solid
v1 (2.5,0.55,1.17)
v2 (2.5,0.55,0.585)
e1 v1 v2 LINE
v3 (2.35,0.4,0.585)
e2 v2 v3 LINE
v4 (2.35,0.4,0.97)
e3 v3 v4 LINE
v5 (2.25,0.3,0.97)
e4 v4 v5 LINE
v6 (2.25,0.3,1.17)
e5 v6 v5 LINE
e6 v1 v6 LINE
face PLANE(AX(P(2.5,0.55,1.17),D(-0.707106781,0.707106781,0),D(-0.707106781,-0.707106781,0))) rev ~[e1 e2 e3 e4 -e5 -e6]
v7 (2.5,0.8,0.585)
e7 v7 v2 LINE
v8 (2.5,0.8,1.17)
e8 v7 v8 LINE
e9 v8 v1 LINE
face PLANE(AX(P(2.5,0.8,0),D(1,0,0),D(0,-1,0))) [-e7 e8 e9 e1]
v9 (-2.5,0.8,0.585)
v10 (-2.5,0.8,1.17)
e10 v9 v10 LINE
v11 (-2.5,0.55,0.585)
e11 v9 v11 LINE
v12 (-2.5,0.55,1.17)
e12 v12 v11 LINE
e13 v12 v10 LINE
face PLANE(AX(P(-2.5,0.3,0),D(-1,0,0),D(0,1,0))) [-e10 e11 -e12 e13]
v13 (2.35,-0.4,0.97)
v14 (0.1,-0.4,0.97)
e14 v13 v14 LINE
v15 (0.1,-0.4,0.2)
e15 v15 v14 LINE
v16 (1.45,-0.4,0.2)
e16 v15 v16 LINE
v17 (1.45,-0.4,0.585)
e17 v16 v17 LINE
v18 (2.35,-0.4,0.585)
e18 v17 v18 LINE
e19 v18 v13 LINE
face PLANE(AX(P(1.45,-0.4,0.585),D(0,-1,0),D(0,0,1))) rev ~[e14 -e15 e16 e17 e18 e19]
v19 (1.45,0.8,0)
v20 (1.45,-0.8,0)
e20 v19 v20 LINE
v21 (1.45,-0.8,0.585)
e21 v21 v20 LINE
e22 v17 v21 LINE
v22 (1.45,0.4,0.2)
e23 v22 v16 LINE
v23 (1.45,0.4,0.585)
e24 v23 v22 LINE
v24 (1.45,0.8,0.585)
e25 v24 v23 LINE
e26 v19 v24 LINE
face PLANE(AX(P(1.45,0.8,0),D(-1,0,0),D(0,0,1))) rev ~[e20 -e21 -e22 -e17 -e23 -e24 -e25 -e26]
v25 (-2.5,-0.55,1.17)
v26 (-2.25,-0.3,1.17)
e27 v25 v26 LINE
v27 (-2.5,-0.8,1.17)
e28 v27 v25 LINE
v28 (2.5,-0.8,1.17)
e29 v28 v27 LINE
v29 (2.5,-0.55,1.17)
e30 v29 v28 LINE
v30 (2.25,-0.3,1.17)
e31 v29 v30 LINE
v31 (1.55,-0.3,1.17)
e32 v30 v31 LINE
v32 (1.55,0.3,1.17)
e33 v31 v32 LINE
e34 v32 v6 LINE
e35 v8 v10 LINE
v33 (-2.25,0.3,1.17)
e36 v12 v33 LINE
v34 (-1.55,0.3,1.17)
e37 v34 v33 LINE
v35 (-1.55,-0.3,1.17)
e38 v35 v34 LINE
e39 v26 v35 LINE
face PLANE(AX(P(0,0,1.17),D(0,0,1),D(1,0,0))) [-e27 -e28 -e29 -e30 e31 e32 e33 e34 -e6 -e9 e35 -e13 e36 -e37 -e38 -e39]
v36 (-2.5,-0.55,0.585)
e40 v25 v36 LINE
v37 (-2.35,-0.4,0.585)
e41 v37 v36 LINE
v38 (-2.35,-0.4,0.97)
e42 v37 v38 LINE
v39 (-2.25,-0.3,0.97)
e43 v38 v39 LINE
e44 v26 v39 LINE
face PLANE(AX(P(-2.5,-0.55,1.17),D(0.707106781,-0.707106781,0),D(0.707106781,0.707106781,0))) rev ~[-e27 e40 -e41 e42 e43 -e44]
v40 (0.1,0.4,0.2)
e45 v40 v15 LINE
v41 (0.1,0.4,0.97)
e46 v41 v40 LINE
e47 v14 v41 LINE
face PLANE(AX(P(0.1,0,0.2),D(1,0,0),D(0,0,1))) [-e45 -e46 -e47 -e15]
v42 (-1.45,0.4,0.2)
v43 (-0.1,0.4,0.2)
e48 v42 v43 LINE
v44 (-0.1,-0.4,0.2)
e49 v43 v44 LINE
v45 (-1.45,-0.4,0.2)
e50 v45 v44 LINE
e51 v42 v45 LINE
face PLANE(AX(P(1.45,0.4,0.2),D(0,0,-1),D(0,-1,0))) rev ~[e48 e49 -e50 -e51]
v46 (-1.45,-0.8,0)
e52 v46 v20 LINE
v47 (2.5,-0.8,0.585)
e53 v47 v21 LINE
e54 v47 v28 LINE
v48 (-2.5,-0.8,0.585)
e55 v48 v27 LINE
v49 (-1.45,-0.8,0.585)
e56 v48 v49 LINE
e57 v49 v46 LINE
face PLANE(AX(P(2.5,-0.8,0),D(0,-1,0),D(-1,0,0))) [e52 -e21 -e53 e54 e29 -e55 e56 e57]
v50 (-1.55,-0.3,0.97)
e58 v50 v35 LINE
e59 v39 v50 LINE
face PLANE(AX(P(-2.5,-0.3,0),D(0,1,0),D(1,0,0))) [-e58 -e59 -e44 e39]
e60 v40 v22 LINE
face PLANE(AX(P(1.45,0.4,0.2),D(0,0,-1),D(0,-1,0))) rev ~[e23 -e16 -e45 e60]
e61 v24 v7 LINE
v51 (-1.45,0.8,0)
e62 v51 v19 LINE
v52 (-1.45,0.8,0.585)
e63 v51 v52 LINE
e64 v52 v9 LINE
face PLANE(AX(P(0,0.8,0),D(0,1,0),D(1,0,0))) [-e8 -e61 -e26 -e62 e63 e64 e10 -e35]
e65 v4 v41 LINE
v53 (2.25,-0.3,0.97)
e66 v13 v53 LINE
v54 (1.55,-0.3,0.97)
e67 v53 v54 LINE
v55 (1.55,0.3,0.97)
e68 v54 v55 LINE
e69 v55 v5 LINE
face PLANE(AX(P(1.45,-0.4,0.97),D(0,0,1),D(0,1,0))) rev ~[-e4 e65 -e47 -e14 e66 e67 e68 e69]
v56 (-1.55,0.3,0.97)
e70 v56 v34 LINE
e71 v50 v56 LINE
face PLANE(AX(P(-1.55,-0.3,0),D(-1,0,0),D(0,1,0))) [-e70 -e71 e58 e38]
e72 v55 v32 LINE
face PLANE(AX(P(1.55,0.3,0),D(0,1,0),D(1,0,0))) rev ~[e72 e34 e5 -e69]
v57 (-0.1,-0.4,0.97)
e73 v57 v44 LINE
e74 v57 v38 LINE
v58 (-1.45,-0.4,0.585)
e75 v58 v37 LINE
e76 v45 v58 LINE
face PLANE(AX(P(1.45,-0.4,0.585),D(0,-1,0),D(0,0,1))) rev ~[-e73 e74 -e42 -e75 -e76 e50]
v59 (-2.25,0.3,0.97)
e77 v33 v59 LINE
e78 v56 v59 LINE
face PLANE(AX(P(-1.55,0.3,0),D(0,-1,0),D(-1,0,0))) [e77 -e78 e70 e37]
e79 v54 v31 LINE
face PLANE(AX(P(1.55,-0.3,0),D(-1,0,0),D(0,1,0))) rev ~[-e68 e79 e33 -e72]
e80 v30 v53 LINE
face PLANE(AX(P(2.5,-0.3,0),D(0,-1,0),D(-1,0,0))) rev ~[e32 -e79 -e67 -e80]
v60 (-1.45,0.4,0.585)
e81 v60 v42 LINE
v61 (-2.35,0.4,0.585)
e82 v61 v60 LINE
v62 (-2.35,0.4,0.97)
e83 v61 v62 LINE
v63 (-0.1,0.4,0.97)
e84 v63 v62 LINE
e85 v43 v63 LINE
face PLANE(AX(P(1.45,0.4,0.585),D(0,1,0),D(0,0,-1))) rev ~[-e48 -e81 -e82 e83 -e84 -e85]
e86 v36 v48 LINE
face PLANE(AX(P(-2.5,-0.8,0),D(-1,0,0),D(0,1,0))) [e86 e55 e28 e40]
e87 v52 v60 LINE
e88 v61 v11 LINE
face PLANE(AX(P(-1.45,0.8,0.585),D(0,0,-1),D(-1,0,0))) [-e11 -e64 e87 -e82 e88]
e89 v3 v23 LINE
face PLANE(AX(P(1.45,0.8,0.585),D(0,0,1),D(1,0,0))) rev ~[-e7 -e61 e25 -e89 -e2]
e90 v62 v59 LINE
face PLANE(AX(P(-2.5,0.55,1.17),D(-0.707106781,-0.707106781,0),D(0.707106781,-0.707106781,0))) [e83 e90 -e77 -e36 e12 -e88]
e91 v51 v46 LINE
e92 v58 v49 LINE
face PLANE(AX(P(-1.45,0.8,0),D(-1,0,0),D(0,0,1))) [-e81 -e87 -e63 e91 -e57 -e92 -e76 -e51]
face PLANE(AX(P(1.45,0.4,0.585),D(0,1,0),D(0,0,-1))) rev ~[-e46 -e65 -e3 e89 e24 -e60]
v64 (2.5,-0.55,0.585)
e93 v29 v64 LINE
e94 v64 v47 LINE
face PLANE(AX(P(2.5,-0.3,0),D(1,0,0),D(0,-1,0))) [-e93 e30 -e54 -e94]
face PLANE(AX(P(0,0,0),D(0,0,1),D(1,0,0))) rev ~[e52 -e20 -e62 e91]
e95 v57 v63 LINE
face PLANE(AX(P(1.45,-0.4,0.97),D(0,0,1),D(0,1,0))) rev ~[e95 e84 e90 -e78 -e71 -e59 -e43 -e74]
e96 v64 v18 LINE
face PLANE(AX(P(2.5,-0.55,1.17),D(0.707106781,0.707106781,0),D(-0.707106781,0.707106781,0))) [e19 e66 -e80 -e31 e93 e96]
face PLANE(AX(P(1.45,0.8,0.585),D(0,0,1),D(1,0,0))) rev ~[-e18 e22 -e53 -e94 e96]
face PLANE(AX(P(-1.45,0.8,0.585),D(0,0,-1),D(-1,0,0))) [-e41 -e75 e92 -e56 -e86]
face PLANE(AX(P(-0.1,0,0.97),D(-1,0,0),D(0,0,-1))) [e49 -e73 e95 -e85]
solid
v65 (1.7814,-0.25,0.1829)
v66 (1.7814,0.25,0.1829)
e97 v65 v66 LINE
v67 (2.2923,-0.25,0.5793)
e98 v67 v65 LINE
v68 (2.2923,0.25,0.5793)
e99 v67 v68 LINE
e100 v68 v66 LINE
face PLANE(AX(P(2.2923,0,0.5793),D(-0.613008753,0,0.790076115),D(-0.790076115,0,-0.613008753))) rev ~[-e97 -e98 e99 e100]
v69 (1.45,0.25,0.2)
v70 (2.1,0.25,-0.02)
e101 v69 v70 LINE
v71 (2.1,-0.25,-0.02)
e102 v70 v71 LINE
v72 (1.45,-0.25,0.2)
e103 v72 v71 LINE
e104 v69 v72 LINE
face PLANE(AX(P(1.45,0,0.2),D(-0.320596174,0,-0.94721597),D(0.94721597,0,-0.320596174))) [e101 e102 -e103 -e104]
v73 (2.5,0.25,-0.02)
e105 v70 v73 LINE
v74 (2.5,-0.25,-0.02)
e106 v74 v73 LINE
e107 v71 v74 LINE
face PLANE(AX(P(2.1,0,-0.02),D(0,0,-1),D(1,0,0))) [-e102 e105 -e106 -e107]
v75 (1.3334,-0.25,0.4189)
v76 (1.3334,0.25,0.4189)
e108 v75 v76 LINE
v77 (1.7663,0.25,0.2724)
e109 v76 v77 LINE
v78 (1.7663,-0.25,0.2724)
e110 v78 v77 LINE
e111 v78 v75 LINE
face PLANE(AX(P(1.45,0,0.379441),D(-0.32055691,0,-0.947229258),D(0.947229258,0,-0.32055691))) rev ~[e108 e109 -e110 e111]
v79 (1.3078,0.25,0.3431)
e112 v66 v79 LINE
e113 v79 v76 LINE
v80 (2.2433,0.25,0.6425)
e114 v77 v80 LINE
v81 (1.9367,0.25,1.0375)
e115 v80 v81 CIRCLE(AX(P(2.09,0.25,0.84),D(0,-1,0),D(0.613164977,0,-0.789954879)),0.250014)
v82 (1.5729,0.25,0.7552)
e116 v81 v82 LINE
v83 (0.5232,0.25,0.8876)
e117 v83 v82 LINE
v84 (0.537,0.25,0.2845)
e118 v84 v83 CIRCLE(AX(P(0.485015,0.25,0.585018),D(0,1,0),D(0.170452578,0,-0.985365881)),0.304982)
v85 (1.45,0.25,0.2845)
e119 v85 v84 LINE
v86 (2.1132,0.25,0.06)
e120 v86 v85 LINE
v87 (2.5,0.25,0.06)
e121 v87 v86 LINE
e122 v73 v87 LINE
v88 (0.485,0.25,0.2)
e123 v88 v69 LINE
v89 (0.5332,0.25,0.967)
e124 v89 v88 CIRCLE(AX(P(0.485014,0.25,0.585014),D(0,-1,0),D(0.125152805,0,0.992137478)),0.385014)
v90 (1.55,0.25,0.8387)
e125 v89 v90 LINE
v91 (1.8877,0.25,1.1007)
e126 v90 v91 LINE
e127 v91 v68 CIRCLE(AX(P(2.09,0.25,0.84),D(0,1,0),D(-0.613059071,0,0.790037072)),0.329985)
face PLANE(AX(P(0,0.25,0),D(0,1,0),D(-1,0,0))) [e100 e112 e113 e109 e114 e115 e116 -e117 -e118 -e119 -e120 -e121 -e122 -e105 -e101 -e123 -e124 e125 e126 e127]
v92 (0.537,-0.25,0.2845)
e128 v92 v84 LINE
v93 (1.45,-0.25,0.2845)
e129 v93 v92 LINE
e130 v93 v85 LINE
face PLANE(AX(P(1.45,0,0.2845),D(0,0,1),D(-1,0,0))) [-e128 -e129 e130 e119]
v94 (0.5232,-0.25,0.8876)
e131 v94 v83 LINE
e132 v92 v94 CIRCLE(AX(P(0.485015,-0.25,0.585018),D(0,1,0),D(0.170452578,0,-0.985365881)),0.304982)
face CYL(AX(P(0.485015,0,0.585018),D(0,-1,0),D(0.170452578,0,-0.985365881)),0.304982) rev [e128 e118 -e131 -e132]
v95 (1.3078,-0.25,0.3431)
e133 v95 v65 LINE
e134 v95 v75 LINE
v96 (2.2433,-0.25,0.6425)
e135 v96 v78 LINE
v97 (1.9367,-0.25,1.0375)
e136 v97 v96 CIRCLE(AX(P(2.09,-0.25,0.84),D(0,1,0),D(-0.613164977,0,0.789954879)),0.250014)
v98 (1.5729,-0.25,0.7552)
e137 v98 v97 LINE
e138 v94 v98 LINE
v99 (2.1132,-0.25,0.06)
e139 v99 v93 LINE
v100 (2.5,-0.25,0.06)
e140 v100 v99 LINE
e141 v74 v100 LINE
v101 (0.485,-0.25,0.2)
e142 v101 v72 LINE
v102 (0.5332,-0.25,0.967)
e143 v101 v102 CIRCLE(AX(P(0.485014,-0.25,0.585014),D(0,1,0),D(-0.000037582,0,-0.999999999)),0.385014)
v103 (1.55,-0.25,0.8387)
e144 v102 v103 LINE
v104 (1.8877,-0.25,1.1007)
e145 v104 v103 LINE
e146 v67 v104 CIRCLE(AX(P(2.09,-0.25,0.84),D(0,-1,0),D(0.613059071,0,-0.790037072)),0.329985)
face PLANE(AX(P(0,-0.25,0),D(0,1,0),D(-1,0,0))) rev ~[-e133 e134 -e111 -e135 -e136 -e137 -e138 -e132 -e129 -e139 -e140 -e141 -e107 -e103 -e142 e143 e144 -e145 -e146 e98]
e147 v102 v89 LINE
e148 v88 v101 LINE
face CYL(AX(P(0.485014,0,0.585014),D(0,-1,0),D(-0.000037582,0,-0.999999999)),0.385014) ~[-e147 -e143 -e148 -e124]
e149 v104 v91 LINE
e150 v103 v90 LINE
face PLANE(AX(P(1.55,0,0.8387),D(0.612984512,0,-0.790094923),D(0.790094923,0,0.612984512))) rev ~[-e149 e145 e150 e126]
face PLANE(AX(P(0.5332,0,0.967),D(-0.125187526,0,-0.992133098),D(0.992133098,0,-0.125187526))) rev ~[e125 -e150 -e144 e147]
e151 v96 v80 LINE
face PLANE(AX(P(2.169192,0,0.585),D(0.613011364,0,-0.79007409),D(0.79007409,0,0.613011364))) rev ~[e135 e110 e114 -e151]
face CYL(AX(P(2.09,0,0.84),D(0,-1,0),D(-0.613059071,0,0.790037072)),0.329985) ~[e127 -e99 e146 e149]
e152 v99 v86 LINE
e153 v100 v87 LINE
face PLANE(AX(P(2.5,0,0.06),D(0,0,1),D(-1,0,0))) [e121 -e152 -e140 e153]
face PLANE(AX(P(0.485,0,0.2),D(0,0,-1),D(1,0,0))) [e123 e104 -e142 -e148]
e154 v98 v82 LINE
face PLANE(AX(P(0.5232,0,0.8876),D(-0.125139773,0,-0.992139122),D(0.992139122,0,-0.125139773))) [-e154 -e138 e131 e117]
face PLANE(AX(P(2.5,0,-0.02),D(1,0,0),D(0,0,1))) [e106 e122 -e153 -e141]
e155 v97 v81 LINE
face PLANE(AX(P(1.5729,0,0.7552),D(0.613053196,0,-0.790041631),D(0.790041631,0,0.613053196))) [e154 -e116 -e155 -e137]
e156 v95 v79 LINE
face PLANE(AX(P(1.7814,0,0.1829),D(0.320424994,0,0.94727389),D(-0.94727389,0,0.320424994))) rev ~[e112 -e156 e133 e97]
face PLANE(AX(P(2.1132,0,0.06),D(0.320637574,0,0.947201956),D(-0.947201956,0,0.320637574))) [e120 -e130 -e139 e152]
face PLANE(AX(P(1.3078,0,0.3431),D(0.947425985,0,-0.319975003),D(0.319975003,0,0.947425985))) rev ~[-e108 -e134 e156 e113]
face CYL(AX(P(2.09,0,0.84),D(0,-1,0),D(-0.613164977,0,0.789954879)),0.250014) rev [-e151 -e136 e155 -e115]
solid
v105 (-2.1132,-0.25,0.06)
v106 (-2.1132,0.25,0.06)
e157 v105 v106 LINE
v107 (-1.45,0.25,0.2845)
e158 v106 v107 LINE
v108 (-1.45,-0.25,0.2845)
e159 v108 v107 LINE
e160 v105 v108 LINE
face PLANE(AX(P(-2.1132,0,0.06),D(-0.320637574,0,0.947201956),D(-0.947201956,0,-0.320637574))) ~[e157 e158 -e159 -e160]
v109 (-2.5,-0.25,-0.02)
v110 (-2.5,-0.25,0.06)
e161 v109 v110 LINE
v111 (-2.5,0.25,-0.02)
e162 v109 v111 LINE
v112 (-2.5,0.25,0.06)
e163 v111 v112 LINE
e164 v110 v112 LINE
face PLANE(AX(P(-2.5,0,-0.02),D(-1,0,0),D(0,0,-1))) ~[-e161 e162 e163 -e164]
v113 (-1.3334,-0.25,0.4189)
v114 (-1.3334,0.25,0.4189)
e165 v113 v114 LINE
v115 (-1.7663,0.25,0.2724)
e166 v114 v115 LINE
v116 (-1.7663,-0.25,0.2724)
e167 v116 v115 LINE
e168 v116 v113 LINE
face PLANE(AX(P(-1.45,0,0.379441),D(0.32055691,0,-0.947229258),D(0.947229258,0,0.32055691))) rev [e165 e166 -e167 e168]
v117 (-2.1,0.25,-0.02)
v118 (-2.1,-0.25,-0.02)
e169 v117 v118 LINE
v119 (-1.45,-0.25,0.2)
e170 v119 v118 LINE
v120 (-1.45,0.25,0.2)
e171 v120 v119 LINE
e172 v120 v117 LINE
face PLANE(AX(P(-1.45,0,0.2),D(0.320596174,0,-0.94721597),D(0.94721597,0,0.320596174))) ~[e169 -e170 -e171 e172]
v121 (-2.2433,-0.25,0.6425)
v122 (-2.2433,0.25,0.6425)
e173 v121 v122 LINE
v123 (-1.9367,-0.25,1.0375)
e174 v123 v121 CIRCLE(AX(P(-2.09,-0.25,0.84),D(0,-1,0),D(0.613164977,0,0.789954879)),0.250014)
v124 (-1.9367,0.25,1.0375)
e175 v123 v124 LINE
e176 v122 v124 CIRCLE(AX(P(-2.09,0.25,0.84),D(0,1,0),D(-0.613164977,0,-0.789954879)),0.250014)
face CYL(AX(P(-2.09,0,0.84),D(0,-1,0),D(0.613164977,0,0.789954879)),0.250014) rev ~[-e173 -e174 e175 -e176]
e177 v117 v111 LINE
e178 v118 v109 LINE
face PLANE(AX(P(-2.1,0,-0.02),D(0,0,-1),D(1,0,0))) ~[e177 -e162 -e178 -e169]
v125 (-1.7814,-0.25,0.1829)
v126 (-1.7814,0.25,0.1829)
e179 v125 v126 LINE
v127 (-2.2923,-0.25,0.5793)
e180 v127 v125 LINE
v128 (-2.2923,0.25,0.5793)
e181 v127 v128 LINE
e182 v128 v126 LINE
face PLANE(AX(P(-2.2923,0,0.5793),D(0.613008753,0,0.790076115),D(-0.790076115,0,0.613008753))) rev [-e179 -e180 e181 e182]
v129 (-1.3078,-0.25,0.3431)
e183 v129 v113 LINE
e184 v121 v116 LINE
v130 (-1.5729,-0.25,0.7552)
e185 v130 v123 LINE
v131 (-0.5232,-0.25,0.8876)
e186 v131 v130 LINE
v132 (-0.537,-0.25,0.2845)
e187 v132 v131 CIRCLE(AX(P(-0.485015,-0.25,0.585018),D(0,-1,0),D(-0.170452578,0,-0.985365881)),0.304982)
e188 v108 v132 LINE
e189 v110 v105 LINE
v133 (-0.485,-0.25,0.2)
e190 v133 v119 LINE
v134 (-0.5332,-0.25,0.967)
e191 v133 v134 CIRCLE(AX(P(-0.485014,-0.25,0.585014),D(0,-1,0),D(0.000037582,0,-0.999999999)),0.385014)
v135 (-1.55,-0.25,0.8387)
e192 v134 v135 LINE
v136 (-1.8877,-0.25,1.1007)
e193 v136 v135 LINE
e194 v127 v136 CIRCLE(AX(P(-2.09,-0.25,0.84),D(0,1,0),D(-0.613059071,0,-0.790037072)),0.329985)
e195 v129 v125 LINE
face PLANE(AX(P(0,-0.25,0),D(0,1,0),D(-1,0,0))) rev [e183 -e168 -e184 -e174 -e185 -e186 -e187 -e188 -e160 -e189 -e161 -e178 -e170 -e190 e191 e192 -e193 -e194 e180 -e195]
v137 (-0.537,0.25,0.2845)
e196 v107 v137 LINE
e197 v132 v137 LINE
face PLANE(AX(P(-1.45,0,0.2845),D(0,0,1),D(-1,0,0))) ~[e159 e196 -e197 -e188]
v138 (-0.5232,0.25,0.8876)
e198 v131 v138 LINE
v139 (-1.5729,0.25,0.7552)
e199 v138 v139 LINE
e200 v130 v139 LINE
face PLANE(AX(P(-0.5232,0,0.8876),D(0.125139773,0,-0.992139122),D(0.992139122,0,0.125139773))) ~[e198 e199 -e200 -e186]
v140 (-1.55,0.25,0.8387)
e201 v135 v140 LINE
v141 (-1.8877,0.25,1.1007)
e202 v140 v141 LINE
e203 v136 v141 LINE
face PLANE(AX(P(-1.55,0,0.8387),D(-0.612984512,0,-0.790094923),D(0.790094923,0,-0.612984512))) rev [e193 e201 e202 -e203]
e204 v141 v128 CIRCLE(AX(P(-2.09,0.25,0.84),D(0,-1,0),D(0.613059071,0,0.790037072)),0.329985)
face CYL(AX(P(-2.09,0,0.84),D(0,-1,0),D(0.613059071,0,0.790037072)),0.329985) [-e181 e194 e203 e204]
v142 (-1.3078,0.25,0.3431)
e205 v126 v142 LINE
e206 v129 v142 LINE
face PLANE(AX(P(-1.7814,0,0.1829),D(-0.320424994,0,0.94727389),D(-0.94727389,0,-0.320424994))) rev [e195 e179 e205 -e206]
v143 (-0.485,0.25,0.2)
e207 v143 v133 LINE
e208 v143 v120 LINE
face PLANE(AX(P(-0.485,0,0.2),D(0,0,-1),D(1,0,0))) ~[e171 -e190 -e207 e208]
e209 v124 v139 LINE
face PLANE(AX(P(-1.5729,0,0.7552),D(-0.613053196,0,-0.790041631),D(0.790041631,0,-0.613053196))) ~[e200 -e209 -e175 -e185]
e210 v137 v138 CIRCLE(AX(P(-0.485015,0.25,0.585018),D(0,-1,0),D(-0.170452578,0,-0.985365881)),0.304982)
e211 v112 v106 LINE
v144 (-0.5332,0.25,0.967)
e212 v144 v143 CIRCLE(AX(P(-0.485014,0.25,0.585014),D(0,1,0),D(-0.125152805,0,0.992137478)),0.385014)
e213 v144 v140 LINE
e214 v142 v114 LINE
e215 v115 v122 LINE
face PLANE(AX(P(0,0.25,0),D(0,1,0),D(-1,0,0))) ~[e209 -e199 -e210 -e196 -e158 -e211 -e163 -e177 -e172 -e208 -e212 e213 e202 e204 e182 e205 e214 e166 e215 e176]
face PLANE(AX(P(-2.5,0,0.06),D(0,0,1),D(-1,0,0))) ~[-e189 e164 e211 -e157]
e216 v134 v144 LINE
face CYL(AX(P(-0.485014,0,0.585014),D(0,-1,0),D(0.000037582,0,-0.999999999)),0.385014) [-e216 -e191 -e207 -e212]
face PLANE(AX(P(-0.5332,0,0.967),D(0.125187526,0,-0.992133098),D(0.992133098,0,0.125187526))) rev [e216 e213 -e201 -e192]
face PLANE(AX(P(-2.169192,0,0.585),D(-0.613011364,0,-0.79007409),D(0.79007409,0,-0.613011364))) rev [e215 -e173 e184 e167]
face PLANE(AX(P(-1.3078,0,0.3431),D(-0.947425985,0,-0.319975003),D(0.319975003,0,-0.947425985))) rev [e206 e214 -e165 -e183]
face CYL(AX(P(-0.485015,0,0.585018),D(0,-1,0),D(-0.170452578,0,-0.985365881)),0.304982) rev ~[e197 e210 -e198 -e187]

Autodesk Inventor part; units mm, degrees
ref_plane "YZ Plane" through (0, 0, 0) normal (1, 0, 0) x (0, 1, 0)
ref_plane "XZ Plane" through (0, 0, 0) normal (0, 1, 0) x (-1, 0, 0)
ref_plane "XY Plane" through (0, 0, 0) normal (0, 0, 1) x (1, 0, 0)
sketch "Sketch1" plane through (0, 0, 0) normal (0, 0, 1) x (1, 0, 0)
  line L0 (2.5, -0.8) -> (-2.5, -0.8)
  line L1 (-2.5, -0.8) -> (-2.5, 0.8)
  line L2 (-2.5, 0.8) -> (2.5, 0.8)
  line L3 (2.5, 0.8) -> (2.5, -0.8)
  line L4 (2.5, -0.8) -> (-2.5, 0.8) construction
  line L5 (-2.5, -0.8) -> (2.5, 0.8) construction
  line L6 (-2.5, -0.3) -> (-1.55, -0.3)
  line L7 (-1.55, -0.3) -> (-1.55, 0.3)
  line L8 (-1.55, 0.3) -> (-2.5, 0.3)
  line L9 (-2.5, 0.3) -> (-2.5, -0.3)
  line L10 (0, -0.8) -> (0, 0.8)
  line L11 (2.5, -0.3) -> (1.55, -0.3)
  line L12 (1.55, -0.3) -> (1.55, 0.3)
  line L13 (1.55, 0.3) -> (2.5, 0.3)
  line L14 (2.5, 0.3) -> (2.5, -0.3)
  point P0 (0, 0)
  point P1 (-2.5, 0)
  point P2 (2.5, 0)
  dimension "d0" = 5
  dimension "d1" = 1.6
  dimension "d2" = 0.95
  dimension "d3" = 0.6
extrude "Extrusion1" add sketch "Sketch1" along normal blind 1.17 contours L0 L10 L2 L3 L13 L12 L11 | L0 L1 L6 L7 L8 L2 L10
sketch "Sketch2" plane through (-2.5, 0.8, 0) normal (0, 1, 0) x (1, 0, 0)
  line L0 (5, 0) -> (0, 0) projected
  line L1 (0, 0) -> (0, -1.17) projected
  line L2 (5, -1.17) -> (0, -1.17) projected
  line L3 (5, 0) -> (5, -1.17) projected
  line L4 (5, 0) -> (3.95, 0)
  line L5 (3.95, 0) -> (3.95, -0.585)
  line L6 (3.95, -0.585) -> (5, -0.585)
  line L7 (5, -0.585) -> (5, 0)
  line L8 (2.5, 0) -> (2.5, -1.17)
  line L9 (0, 0) -> (1.05, 0)
  line L10 (1.05, 0) -> (1.05, -0.585)
  line L11 (1.05, -0.585) -> (0, -0.585)
  line L12 (0, -0.585) -> (0, 0)
  dimension "d6" = 0.585
  dimension "d7" = 2.9
extrude "Extrusion2" cut sketch "Sketch2" against normal through all contours L3 L6 L5 L0 | L10 L11 L1 L0
sketch "Sketch3" plane through (1.45, 0.8, 0.585) normal (1, 0, 0) x (0, 0, -1)
  line L0 (0.585, -1.6) -> (0, -1.6) projected
  line L1 (0.585, 0) -> (0.585, -1.6) projected
  line L2 (0, 0) -> (0.585, 0) projected
  line L3 (0, 0) -> (0, -1.6) projected
  line L4 (0, -1.6) -> (0, -1.1) projected
  line L5 (0, -1.1) -> (-0.585, -1.1) projected
  line L6 (-0.585, -1.6) -> (-0.585, -1.1) projected
  line L7 (0, -1.6) -> (-0.585, -1.6) projected
  line L8 (0, -1.1) -> (0, -0.5) projected
  line L9 (0, -0.5) -> (-0.585, -0.5) projected
  line L10 (-0.585, -1.1) -> (-0.585, -0.5) projected
  line L11 (0, -1.1) -> (-0.585, -1.1) projected
  line L12 (0, -0.5) -> (0, 0) projected
  line L13 (0, 0) -> (-0.585, 0) projected
  line L14 (-0.585, -0.5) -> (-0.585, 0) projected
  line L15 (-0.585, -0.5) -> (0, -0.5) projected
  line L16 (0.385, -1.2) -> (-0.385, -1.2)
  line L17 (-0.385, -1.2) -> (-0.385, -0.4)
  line L18 (-0.385, -0.4) -> (0.385, -0.4)
  line L19 (0.385, -0.4) -> (0.385, -1.2)
  point P0 (0.585, -0.8)
  dimension "d10" = 0.4
  dimension "d11" = 0.4
  dimension "d12" = 0.2
  dimension "d13" = 0.2
extrude "Extrusion3" cut sketch "Sketch3" along normal through all both and the other way through all contours L16 L17 L5 L3 | L3 L18 L19 L16 | L5 L17 L9 L3 | L3 L9 L17 L18
sketch "Sketch4" plane through (0, 0, 0) normal (0, 1, 0) x (-1, 0, 0)
  line L0 (2.5, 0.97) -> (2.5, 0.585) projected
  line L1 (-2.5, 0.97) -> (2.5, 0.97) projected
  line L2 (-2.5, 0.585) -> (-2.5, 0.97) projected
  line L3 (-1.45, 0.585) -> (-2.5, 0.585) projected
  line L4 (-1.45, 0.2) -> (-1.45, 0.585) projected
  line L5 (1.45, 0.2) -> (-1.45, 0.2) projected
  line L6 (1.45, 0.585) -> (1.45, 0.2) projected
  line L7 (2.5, 0.585) -> (1.45, 0.585) projected
  line L8 (-0.1, 0.97) -> (0.1, 0.97)
  line L9 (0.1, 0.97) -> (0.1, 0.2)
  line L10 (0.1, 0.2) -> (-0.1, 0.2)
  line L11 (-0.1, 0.2) -> (-0.1, 0.97)
  point P0 (0, 0)
  point P1 (0, 0.97)
  dimension "d16" = 0.2
extrude "Extrusion4" add sketch "Sketch4" along normal mid plane 1.6 contours L9 L5 L11 L1
sketch "Sketch5" plane through (0, 0, 0) normal (0, 1, 0) x (-1, 0, 0)
  line L0 (-0.1, 0.2) -> (-0.1, 0.97) projected
  line L1 (-2.5, 0.97) -> (-0.1, 0.97) projected
  line L2 (-2.5, 0.585) -> (-2.5, 0.97) projected
  line L3 (-1.45, 0.585) -> (-2.5, 0.585) projected
  line L4 (-1.45, 0.2) -> (-1.45, 0.585) projected
  line L5 (-0.1, 0.2) -> (-1.45, 0.2) projected
  line L6 (-0.1, 0.2) -> (-1.45, 0.2) projected
  arc A0 (-0.485, 0.2) -> (-0.5332, 0.967) centre (-0.485, 0.585) ccw
  arc A1 (-0.537, 0.2845) -> (-0.5232, 0.8876) centre (-0.485, 0.585) ccw
  line L7 (-0.485, 0.2) -> (-1.45, 0.2)
  line L8 (-1.45, 0.2) -> (-2.1, -0.02)
  line L9 (-2.1, -0.02) -> (-2.5, -0.02)
  line L10 (-2.5, -0.02) -> (-2.5, 0.06)
  line L11 (-2.5, 0.06) -> (-2.1132, 0.06)
  line L12 (-2.1132, 0.06) -> (-1.45, 0.2845)
  line L13 (-1.45, 0.2845) -> (-0.537, 0.2845)
  line L14 (1.45, 0) -> (-1.45, 0) projected
  line L15 (-0.5332, 0.967) -> (-1.55, 0.8387)
  line L16 (-1.55, 0.8387) -> (-1.8877, 1.1007)
  line L17 (-0.5232, 0.8876) -> (-1.5729, 0.7552)
  line L18 (-1.5729, 0.7552) -> (-1.9367, 1.0375)
  arc A2 (-1.8877, 1.1007) -> (-2.2923, 0.5793) centre (-2.09, 0.84) ccw
  arc A3 (-1.9367, 1.0375) -> (-2.2433, 0.6425) centre (-2.09, 0.84) ccw
  line L19 (2.5, 1.17) -> (-2.5, 1.17) projected
  line L20 (-1.55, 0.97) -> (-1.55, 1.17) projected
  line L21 (-2.2923, 0.5793) -> (-1.7814, 0.1829)
  line L22 (-1.7814, 0.1829) -> (-1.3078, 0.3431)
  line L23 (-1.3078, 0.3431) -> (-1.3334, 0.4189)
  line L24 (-1.3334, 0.4189) -> (-1.7663, 0.2724)
  line L25 (-1.7663, 0.2724) -> (-2.2433, 0.6425)
  line L26 (-2.2923, 0.5793) -> (-2.2879, 0.585)
  line L27 (-0.1, 0.97) -> (-0.2128, 0.8572)
  point P0 (0, 0)
  point P1 (0, 1.17)
  dimension "d20" = 0.08
  dimension "d21" = 0.08
  dimension "d22" = 0.08
  dimension "d23" = 0.02
  dimension "d25" = 0.4
  dimension "d26" = 0.08
  dimension "d27" = 0.5
  dimension "d29" = 2.09
  dimension "d30" = 135
  dimension "d31" = 0
  dimension "d32" = 0.08
  dimension "d33" = 0.01
  dimension "d34" = 0.5
extrude "Extrusion5" add sketch "Sketch5" along normal mid plane 0.5 separate body contours A0 L5 L4 L13 A1 L17 L18 L1 L16 L15 | L8 L9 L10 L11 L12 L4 | L22 L21 L26 L3 L25 L24 L4 | L4 L24 L23 L22 | L1 L18 A3 A2 L16 | A2 L3 L26 | A3 L25 L3 A2 L1
mirror "Mirror1" about plane through (0, 0, 0) normal (1, 0, 0) of "Extrusion5" bodies 2
sketch "Sketch6" plane through (0, 0, 1.17) normal (0, 0, 1) x (1, 0, 0)
  line L0 (2.5, -0.3) -> (1.55, -0.3) projected
  line L1 (1.55, -0.3) -> (1.55, 0.3) projected
  line L2 (1.55, 0.3) -> (2.5, 0.3) projected
  line L3 (2.5, 0.3) -> (2.5, 0.8) projected
  line L4 (2.5, 0.8) -> (-2.5, 0.8) projected
  line L5 (-2.5, 0.8) -> (-2.5, 0.3) projected
  line L6 (-2.5, 0.3) -> (-1.55, 0.3) projected
  line L7 (-1.55, 0.3) -> (-1.55, -0.3) projected
  line L8 (-1.55, -0.3) -> (-2.5, -0.3) projected
  line L9 (-2.5, -0.3) -> (-2.5, -0.8) projected
  line L10 (-2.5, -0.8) -> (2.5, -0.8) projected
  line L11 (2.5, -0.8) -> (2.5, -0.3) projected
  line L12 (2.5, -0.55) -> (2.25, -0.3)
  line L13 (2.5, -0.3) -> (1.55, -0.3) projected
  line L14 (2.5, 0.55) -> (2.25, 0.3)
  line L15 (-2.5, -0.3) -> (-2.5, -0.8) projected
  line L16 (-2.5, -0.55) -> (-2.25, -0.3)
  line L17 (-1.55, -0.3) -> (-2.5, -0.3) projected
  line L18 (-2.5, 0.8) -> (-2.5, 0.3) projected
  line L19 (-2.5, 0.55) -> (-2.25, 0.3)
  line L20 (-2.5, 0.3) -> (-1.55, 0.3) projected
  point P0 (0, 0)
  dimension "d37" = 45
extrude "Extrusion6" cut sketch "Sketch6" against normal through all contours L11 L12 L0 | L14 L3 L2 | L9 L8 L16 | L19 L6 L5 bodies 1
properties part number "788640001" material "ABS Plastic"
